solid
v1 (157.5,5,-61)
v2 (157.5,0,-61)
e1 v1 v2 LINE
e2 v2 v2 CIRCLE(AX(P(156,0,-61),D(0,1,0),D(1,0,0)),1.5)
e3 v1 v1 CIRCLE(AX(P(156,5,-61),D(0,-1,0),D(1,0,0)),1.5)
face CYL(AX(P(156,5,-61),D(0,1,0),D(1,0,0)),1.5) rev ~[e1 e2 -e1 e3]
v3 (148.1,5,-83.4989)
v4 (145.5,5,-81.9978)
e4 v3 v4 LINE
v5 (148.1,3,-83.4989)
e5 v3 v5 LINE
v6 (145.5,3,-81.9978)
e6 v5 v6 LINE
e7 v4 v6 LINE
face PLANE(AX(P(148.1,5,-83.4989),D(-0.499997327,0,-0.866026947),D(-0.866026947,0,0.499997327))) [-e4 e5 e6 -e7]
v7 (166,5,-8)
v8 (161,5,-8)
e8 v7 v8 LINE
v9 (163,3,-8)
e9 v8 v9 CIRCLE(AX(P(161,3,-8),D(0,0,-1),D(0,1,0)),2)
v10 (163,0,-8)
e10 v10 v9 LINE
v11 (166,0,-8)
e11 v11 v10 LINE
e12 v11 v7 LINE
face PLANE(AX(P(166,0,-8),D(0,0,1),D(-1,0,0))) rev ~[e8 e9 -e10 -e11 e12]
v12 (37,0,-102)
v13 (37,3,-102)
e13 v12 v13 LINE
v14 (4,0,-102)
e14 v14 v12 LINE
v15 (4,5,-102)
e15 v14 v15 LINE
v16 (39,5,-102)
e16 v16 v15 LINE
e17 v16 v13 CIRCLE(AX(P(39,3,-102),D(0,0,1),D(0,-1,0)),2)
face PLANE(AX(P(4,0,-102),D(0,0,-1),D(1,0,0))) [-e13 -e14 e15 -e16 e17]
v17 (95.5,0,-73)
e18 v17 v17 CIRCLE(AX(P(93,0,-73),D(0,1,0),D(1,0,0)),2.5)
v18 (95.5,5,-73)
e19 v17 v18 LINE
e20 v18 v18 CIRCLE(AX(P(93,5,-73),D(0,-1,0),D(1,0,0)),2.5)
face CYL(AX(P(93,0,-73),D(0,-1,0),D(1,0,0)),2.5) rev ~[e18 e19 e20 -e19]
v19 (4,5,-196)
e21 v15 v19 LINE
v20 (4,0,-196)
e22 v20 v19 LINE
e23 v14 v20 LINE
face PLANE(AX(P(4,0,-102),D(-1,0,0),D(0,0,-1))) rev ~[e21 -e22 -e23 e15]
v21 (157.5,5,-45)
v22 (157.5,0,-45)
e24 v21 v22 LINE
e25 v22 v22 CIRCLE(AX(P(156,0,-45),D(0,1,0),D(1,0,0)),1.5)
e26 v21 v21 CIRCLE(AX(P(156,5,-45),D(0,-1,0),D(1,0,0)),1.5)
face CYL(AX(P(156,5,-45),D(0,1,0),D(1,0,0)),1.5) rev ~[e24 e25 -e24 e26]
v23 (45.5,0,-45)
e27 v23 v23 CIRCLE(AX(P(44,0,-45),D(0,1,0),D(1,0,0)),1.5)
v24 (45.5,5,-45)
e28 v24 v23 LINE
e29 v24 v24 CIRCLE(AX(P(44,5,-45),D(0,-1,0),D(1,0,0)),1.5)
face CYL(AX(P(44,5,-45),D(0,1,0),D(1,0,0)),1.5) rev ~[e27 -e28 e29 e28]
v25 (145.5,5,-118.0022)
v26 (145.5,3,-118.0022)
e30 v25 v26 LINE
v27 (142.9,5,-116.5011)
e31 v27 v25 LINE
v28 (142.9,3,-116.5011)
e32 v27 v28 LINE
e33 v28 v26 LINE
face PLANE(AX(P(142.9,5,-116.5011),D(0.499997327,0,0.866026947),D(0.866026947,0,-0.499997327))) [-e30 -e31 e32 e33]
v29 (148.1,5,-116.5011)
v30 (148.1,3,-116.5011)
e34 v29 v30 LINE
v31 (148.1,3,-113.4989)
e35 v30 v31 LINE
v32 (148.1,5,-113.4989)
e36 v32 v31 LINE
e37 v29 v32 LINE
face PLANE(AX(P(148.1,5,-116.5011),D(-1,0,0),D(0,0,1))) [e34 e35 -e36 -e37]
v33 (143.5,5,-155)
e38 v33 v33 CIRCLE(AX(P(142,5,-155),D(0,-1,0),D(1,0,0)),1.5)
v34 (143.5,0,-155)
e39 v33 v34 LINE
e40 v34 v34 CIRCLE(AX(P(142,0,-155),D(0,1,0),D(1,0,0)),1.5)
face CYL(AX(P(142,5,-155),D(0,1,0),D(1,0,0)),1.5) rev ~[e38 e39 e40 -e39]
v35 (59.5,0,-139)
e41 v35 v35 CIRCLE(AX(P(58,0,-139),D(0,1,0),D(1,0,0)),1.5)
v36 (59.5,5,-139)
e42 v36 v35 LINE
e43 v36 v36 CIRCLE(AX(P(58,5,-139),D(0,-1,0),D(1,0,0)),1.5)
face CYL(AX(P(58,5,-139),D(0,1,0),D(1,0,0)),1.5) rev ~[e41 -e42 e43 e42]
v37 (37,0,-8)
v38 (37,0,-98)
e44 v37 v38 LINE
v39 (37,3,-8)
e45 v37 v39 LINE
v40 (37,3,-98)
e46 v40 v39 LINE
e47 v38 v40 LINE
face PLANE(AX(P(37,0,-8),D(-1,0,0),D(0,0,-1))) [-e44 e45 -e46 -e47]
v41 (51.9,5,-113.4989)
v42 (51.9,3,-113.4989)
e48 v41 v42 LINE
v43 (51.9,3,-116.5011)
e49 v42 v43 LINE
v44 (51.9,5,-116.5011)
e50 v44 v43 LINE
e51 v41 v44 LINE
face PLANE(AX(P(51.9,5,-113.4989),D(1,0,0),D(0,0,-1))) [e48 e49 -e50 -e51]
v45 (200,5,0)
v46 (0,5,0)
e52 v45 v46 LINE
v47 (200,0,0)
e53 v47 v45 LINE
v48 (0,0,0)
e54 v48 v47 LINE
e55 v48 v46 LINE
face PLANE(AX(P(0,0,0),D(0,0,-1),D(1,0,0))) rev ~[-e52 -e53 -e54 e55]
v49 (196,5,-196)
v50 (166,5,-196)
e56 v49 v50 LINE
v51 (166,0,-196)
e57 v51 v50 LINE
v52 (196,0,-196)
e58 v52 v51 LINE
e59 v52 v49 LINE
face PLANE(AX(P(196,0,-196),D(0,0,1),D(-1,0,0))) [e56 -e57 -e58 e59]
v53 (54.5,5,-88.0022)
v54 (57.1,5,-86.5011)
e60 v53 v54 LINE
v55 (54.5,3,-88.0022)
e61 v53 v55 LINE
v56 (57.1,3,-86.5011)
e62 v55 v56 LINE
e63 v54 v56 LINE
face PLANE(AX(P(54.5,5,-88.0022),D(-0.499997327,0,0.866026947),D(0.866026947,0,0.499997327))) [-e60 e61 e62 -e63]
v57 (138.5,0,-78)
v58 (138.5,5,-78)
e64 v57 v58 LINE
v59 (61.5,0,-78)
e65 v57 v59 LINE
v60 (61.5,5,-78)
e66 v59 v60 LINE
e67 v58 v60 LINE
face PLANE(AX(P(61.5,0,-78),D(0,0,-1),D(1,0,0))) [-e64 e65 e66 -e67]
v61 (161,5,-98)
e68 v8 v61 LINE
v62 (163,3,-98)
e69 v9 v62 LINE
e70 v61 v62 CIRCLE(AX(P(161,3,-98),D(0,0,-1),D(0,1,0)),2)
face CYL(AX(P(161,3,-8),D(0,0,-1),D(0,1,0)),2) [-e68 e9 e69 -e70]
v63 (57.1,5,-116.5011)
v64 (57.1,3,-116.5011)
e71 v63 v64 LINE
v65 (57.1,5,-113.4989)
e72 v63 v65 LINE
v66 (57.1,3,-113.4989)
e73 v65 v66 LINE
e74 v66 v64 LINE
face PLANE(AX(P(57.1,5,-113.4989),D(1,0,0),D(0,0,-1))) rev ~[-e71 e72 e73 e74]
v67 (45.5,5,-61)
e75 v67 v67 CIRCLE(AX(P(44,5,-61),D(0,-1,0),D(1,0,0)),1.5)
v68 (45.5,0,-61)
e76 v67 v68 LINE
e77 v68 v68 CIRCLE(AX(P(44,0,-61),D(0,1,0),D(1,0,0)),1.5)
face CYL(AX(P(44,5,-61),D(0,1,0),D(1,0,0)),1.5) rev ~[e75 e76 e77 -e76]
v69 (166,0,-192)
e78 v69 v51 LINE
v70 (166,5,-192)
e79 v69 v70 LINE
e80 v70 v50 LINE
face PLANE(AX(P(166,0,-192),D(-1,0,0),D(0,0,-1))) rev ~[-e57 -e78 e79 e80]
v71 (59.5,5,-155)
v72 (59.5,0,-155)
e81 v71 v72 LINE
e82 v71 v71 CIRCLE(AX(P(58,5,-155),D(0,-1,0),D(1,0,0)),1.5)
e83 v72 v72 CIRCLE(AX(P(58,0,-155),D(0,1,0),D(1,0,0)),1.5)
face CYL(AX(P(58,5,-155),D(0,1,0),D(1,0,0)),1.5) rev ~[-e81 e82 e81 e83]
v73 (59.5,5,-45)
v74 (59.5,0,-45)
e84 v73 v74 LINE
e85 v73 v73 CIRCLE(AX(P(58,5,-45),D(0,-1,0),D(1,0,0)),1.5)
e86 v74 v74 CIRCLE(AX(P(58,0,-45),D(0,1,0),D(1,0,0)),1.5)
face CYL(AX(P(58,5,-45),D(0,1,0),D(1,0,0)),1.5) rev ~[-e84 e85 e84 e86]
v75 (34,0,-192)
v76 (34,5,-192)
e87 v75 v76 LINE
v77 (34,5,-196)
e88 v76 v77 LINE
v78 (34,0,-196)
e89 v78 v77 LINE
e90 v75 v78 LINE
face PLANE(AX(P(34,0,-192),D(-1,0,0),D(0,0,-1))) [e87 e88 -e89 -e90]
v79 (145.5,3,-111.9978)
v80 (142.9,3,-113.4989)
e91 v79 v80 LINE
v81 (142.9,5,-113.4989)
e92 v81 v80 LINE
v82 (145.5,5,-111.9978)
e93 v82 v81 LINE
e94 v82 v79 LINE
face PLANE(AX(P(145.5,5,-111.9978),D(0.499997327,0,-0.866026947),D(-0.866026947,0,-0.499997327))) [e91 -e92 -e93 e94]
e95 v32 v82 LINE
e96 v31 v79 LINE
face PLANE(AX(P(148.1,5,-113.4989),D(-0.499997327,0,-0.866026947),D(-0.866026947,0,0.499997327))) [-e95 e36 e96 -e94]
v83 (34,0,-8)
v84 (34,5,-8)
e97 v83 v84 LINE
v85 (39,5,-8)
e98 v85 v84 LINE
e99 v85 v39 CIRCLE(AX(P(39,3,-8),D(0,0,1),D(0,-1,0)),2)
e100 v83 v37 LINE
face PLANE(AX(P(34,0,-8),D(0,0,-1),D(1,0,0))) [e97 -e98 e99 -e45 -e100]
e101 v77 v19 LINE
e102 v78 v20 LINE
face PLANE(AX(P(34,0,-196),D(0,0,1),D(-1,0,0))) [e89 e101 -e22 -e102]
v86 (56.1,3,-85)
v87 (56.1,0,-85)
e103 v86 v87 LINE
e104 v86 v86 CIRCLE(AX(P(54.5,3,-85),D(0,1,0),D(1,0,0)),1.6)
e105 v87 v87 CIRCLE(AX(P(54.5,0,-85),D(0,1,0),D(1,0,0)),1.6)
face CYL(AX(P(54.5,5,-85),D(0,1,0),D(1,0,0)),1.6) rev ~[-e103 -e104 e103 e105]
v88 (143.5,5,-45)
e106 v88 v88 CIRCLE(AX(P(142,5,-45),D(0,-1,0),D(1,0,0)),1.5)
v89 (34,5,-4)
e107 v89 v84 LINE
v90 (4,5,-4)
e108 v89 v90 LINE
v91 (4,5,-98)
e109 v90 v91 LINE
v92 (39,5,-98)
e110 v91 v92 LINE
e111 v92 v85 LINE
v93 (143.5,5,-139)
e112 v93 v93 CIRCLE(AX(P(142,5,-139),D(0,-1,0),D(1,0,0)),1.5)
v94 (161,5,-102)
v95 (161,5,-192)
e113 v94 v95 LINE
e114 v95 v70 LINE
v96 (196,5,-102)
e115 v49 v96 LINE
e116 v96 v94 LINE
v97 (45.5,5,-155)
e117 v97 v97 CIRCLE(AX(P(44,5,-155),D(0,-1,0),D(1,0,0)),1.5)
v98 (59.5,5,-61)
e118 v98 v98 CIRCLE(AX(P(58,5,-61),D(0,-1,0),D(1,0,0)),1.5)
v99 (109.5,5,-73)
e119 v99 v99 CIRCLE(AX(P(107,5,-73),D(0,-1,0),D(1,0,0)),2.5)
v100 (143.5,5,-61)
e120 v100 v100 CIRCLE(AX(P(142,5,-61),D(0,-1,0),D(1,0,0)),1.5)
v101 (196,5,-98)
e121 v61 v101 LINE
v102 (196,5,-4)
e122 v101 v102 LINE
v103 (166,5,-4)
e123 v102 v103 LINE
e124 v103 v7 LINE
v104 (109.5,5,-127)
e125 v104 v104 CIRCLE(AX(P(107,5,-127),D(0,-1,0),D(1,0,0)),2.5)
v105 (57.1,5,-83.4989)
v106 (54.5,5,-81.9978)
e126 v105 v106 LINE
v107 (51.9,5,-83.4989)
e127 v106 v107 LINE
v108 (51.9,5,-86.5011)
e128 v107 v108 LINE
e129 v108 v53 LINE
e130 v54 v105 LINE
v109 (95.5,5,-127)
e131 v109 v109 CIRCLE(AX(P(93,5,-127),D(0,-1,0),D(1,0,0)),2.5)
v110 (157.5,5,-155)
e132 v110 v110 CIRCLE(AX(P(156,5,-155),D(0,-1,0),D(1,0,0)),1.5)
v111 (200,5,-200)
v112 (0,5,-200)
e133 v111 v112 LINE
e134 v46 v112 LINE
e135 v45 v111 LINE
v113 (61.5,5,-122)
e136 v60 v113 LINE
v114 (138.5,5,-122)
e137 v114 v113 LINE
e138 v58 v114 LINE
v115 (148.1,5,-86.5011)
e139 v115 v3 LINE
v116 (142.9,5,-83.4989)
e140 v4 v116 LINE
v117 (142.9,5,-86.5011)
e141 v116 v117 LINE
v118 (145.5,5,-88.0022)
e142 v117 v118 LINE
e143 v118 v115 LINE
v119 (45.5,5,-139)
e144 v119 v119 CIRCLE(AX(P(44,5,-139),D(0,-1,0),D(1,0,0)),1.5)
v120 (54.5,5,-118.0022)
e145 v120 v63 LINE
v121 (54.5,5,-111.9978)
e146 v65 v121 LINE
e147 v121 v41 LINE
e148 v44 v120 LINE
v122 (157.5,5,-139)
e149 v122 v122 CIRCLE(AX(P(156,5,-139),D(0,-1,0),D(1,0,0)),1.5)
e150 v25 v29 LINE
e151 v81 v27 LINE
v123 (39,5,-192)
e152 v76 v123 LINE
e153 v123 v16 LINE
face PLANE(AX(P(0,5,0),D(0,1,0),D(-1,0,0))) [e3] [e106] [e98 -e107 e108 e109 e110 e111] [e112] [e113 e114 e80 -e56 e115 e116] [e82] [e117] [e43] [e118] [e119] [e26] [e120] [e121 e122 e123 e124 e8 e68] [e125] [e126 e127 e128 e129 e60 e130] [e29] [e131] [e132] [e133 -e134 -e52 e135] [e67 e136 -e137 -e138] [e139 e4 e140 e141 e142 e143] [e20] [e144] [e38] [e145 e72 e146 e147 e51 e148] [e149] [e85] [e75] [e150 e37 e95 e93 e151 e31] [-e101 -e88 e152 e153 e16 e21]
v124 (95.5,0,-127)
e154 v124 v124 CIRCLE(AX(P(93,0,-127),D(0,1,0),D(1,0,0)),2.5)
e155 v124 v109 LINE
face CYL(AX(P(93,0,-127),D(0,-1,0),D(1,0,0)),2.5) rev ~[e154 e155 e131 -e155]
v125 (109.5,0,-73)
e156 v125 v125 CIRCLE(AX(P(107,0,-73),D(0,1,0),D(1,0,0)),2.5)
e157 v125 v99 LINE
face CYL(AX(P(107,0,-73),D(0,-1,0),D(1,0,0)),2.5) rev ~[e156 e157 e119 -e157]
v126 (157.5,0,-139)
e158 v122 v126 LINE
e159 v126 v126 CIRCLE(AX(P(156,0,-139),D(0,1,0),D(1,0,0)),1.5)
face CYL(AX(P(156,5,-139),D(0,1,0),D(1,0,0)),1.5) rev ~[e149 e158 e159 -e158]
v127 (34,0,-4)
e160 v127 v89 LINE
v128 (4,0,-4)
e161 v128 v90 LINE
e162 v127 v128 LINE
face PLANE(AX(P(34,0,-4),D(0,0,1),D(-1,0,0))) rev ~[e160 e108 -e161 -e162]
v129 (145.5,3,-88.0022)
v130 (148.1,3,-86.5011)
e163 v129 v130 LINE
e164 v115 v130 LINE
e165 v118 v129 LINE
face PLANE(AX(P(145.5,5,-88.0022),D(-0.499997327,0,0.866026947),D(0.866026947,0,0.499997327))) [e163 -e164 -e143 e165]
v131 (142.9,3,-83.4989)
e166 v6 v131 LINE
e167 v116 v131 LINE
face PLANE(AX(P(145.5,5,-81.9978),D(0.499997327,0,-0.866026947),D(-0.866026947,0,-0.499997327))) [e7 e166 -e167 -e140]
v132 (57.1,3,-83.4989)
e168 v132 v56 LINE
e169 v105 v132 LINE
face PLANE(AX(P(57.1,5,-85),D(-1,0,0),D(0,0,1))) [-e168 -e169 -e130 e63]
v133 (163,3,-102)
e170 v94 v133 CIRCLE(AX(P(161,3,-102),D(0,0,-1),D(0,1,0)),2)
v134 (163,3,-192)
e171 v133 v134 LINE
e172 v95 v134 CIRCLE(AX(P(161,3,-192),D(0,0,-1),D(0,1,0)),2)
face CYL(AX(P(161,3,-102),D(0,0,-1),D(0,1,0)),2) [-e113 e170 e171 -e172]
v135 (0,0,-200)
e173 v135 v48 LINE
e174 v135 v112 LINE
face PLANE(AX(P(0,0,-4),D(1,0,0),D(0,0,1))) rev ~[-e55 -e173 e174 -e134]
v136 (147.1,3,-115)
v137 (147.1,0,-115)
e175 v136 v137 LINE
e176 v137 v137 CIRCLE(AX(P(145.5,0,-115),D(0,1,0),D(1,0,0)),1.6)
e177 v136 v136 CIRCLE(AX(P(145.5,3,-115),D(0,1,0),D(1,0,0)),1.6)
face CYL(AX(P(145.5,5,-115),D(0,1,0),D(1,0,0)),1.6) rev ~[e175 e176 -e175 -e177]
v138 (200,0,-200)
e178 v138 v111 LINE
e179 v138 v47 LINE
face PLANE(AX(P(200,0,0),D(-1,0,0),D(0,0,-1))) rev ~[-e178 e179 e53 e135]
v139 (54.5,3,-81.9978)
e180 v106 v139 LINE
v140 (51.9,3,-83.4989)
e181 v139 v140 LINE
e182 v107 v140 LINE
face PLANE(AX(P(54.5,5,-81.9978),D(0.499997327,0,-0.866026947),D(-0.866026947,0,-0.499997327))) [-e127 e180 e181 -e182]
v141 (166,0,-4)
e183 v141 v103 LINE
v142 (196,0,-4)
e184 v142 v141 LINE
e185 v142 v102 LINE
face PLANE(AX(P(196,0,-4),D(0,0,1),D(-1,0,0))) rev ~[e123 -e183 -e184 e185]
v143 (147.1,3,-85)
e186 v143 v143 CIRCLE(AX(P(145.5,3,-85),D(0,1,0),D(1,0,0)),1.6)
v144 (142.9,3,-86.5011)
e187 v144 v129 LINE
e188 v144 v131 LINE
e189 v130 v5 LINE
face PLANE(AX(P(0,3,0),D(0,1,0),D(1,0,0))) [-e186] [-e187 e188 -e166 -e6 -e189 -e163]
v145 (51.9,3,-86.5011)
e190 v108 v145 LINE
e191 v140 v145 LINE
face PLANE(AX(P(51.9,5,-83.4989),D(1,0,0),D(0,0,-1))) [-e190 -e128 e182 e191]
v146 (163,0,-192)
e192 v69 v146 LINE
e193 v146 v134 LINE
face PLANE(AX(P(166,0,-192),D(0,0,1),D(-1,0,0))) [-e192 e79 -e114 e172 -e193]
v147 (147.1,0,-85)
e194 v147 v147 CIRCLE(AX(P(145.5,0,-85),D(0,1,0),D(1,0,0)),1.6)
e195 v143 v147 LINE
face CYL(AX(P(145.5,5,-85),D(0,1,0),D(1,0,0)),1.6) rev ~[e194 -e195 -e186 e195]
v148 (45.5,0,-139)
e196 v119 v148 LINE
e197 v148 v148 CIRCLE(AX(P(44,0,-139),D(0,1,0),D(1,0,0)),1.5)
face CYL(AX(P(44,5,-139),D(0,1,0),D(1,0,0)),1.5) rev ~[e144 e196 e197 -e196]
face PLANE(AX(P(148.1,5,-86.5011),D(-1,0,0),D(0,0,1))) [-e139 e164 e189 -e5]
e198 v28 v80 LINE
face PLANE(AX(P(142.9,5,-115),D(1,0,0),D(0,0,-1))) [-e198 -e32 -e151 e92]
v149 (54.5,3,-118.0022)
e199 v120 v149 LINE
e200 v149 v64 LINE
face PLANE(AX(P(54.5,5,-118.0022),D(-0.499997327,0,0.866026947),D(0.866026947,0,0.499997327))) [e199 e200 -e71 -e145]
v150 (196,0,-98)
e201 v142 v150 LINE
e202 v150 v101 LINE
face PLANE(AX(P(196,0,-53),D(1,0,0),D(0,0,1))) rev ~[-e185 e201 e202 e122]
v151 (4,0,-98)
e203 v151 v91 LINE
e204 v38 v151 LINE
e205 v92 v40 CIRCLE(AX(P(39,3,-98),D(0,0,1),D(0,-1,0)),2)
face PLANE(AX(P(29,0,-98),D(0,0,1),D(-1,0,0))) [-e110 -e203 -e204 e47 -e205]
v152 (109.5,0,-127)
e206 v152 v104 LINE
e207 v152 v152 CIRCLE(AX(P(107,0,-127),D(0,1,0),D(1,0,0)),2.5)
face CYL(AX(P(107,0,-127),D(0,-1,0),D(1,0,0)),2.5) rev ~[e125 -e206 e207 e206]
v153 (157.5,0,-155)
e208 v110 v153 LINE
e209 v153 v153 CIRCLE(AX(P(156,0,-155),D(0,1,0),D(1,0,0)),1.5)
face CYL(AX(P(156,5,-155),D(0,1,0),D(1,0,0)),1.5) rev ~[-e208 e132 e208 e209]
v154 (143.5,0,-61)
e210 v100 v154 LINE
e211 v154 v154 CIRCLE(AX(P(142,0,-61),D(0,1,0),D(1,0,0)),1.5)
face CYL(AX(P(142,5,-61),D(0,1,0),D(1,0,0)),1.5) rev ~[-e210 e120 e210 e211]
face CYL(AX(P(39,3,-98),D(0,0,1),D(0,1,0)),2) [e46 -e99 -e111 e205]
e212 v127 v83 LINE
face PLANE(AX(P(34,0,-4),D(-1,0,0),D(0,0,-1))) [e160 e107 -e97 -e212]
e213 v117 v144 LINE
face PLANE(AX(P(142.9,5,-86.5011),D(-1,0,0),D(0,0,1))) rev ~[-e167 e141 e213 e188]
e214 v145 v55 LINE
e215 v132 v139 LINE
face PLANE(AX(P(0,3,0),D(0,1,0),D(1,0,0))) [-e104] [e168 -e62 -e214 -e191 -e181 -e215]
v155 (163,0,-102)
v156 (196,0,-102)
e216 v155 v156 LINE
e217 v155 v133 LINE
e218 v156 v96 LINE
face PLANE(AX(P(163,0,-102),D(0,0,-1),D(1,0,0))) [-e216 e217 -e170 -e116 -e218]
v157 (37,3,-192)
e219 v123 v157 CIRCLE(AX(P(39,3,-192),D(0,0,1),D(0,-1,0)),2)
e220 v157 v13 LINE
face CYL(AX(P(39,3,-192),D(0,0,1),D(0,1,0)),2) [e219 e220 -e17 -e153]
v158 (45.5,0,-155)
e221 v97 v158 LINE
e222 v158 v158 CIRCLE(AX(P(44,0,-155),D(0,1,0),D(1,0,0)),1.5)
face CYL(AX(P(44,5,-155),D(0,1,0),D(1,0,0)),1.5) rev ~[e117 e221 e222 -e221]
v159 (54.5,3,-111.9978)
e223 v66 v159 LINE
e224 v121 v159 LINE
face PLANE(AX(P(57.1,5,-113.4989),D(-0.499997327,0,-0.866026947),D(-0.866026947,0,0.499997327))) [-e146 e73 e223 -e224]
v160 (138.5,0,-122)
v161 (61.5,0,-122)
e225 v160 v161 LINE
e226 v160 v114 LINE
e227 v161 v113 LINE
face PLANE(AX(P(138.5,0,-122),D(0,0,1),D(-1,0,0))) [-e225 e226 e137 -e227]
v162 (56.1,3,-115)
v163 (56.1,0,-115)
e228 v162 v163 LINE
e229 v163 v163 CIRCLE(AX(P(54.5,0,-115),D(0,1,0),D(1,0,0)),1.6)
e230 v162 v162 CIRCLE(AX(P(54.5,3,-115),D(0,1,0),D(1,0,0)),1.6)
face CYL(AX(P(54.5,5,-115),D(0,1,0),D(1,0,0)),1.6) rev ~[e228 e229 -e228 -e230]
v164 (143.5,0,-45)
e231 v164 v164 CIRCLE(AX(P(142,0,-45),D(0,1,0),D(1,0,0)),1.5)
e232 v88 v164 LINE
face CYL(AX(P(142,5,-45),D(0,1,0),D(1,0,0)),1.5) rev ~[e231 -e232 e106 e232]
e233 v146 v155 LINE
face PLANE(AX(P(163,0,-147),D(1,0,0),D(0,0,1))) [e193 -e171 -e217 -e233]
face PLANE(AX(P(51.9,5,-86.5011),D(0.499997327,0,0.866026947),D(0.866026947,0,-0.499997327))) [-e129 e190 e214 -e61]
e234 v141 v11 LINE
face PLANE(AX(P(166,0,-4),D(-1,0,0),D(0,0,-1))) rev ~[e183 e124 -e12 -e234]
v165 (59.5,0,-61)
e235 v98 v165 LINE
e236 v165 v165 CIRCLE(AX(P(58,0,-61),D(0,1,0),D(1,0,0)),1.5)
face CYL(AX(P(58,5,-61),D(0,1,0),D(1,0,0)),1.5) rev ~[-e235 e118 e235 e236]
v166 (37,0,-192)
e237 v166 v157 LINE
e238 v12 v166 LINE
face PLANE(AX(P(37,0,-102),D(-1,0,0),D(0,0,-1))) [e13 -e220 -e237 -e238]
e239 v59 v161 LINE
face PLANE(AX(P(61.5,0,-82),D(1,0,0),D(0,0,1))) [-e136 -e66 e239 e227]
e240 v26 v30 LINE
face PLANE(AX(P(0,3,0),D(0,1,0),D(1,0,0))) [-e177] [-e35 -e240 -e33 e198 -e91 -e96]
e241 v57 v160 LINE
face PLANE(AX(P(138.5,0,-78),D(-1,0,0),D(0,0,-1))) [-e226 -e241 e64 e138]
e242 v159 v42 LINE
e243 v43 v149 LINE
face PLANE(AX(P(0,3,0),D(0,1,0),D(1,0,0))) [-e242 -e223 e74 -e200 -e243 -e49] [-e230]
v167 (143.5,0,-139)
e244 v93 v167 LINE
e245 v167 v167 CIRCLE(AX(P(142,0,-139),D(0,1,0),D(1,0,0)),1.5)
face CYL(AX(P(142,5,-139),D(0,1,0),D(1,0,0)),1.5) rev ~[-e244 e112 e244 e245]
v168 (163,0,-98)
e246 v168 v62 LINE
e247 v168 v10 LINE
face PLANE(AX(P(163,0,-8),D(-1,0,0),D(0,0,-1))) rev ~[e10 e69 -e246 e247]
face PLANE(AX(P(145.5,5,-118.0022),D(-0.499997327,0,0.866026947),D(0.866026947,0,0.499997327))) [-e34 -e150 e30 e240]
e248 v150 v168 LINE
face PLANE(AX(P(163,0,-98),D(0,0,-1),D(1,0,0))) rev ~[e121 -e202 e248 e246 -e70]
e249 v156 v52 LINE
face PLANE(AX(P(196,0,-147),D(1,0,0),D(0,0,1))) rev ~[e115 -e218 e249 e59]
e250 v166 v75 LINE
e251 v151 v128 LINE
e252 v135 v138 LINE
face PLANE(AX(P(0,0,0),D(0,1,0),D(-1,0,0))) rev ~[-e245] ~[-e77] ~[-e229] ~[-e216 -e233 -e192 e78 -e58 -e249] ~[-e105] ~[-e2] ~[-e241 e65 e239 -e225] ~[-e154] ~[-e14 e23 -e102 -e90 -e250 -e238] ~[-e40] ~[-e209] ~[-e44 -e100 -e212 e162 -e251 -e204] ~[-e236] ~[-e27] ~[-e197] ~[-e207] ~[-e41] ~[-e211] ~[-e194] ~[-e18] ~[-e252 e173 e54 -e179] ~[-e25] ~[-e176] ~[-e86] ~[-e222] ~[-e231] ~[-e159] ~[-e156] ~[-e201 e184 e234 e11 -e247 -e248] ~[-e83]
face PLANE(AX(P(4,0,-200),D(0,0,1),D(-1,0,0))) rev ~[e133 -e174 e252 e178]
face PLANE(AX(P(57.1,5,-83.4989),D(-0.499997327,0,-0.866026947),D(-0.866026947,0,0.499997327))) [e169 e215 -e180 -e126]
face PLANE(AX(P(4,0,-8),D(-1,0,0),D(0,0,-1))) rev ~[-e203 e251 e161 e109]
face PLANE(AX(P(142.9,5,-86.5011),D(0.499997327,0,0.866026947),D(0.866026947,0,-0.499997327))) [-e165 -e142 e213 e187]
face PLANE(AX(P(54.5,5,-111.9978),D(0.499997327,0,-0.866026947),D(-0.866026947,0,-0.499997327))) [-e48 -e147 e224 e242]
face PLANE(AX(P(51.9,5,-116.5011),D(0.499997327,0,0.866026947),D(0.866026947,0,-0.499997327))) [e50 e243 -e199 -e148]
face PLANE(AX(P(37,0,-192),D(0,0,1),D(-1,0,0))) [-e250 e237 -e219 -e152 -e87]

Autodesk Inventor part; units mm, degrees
ref_plane "YZ Plane" through (0, 0, 0) normal (1, 0, 0) x (0, 1, 0)
ref_plane "XZ Plane" through (0, 0, 0) normal (0, 1, 0) x (-1, 0, 0)
ref_plane "XY Plane" through (0, 0, 0) normal (0, 0, 1) x (1, 0, 0)
sketch "Эскиз2" plane through (0, 0, 0) normal (0, 1, 0) x (-1, 0, 0)
  line L0 (0, 0) -> (-200, 0)
  line L1 (-200, 0) -> (-200, -200)
  line L2 (-200, -200) -> (0, -200)
  line L3 (0, -200) -> (0, 0)
  line L4 (-200, 0) -> (-166, 0)
  line L5 (-166, 0) -> (-166, -200)
  line L6 (-166, -200) -> (-200, -200)
  line L7 (-200, -200) -> (-200, 0)
  line L8 (0, 0) -> (-34, 0)
  line L9 (-34, 0) -> (-34, -200)
  line L10 (-34, -200) -> (0, -200)
  line L11 (0, -200) -> (0, 0)
  line L12 (0, 0) -> (-200, 0)
  line L13 (-200, 0) -> (-200, -4)
  line L14 (-200, -4) -> (0, -4)
  line L15 (0, -4) -> (0, 0)
  line L16 (0, -200) -> (-200, -200)
  line L17 (-200, -200) -> (-200, -196)
  line L18 (-200, -196) -> (0, -196)
  line L19 (0, -196) -> (0, -200)
  line L20 (-200, -200) -> (-196, -200)
  line L21 (-196, -200) -> (-196, 0)
  line L22 (-196, 0) -> (-200, 0)
  line L23 (-200, 0) -> (-200, -200)
  line L24 (0, 0) -> (-4, 0)
  line L25 (-4, 0) -> (-4, -200)
  line L26 (-4, -200) -> (0, -200)
  line L27 (0, -200) -> (0, 0)
  line L28 (-34, -4) -> (-4, -4)
  line L29 (-4, -4) -> (-4, -8)
  line L30 (-34, -8) -> (-34, -4)
  line L31 (-9, -53) -> (-196, -53)
  line L32 (-9, -147) -> (-196, -147)
  line L33 (-29, -8) -> (-37, -8)
  line L34 (-37, -8) -> (-37, -98)
  line L35 (-37, -98) -> (-29, -98)
  line L36 (-29, -102) -> (-37, -102)
  line L37 (-37, -102) -> (-37, -192)
  line L38 (-37, -192) -> (-29, -192)
  line L39 (-166, -192) -> (-163, -192)
  line L40 (-163, -192) -> (-163, -102)
  line L41 (-163, -102) -> (-166, -102)
  line L42 (-166, -102) -> (-166, -192)
  line L43 (-166, -8) -> (-163, -8)
  line L44 (-163, -8) -> (-163, -98)
  line L45 (-163, -98) -> (-166, -98)
  line L46 (-166, -98) -> (-166, -8)
  line L47 (-166, -98) -> (-196, -98)
  line L48 (-196, -98) -> (-196, -102)
  line L49 (-196, -102) -> (-166, -102)
  line L50 (-166, -102) -> (-166, -98)
  line L51 (-29, -98) -> (-4, -98)
  line L52 (-4, -98) -> (-4, -102)
  line L53 (-4, -102) -> (-29, -102)
  line L54 (-29, -102) -> (-29, -98)
  point P0 (-166, -4)
  point P1 (-166, -196)
  point P2 (-196, -196)
  point P3 (-196, -4)
  point P4 (-4, -196)
  point P5 (-34, -196)
  point P6 (-34, -192)
  point P7 (-34, -102)
  point P8 (-34, -98)
  point P9 (-4, -98)
  dimension "d11" = 200
  dimension "d12" = 200
  dimension "d13" = 34
  dimension "d14" = 34
  dimension "d15" = 4
  dimension "d16" = 4
  dimension "d17" = 4
  dimension "d18" = 4
  dimension "d19" = 4
  dimension "d25" = 8
  dimension "d26" = 8
  dimension "d27" = 3
extrude "Выдавливание1" add sketch "Эскиз2" along normal blind 5 contours L3 L14 L25 L0 | L25 L14 L9 L0 | L3 L18 L25 L14 | L9 L14 L5 L0 | L3 L2 L25 L18 | L5 L14 L21 L0 | L9 L33 L34 L31 L44 L43 L5 L14 | L25 L2 L9 L18 | L21 L14 L1 L0 | L25 L53 L54 L51 | L18 L5 L39 L40 L32 L37 L38 L9 | L9 L2 L5 L18 | L21 L18 L1 L14 | L54 L36 L9 L35 | L5 L2 L21 L18 | L9 L36 L37 L32 L40 L41 L5 L45 L44 L31 L34 L35 | L21 L2 L1 L18 | L47 L5 L49 L21
sketch "Эскиз3" plane through (0, 5, 0) normal (0, 1, 0) x (1, 0, 0)
  line L0 (37, 192) -> (37, 102) projected
  line L1 (37, 147) -> (163, 147)
  line L2 (163, 102) -> (163, 192) projected
  line L3 (37, 98) -> (37, 8) projected
  line L4 (37, 53) -> (163, 53)
  line L5 (163, 147) -> (156, 147)
  line L6 (156, 147) -> (142, 147)
  line L7 (142, 147) -> (142, 155)
  line L8 (142, 155) -> (156, 155)
  line L9 (156, 155) -> (156, 139)
  line L10 (156, 139) -> (142, 139)
  line L11 (142, 139) -> (142, 155)
  line L12 (37, 147) -> (44, 147)
  line L13 (44, 147) -> (58, 147)
  line L14 (58, 147) -> (58, 155)
  line L15 (58, 155) -> (44, 155)
  line L16 (44, 155) -> (44, 139)
  line L17 (44, 139) -> (58, 139)
  line L18 (58, 139) -> (58, 155)
  line L19 (163, 53) -> (156, 53)
  line L20 (156, 53) -> (142, 53)
  line L21 (142, 53) -> (142, 61)
  line L22 (142, 61) -> (58, 61)
  line L23 (58, 61) -> (44, 61)
  line L24 (44, 61) -> (44, 45)
  line L25 (44, 45) -> (58, 45)
  line L26 (58, 45) -> (58, 61)
  line L27 (142, 61) -> (156, 61)
  line L28 (156, 61) -> (156, 45)
  line L29 (156, 45) -> (142, 45)
  line L30 (142, 45) -> (142, 61)
  circle A0 centre (156, 61) radius 1.5
  circle A1 centre (156, 45) radius 1.5
  circle A2 centre (142, 45) radius 1.5
  circle A3 centre (142, 61) radius 1.5
  circle A4 centre (58, 61) radius 1.5
  circle A5 centre (58, 45) radius 1.5
  circle A6 centre (44, 61) radius 1.5
  circle A7 centre (44, 45) radius 1.5
  circle A8 centre (142, 139) radius 1.5
  circle A9 centre (156, 139) radius 1.5
  circle A10 centre (156, 155) radius 1.5
  circle A11 centre (142, 155) radius 1.5
  circle A12 centre (58, 155) radius 1.5
  circle A13 centre (44, 155) radius 1.5
  circle A14 centre (58, 139) radius 1.5
  circle A15 centre (44, 139) radius 1.5
  point P0 (0, 0)
  point P1 (142, 46.5)
  point P2 (143.5, 45)
  dimension "d30" = 7
  dimension "d31" = 14
  dimension "d32" = 8
  dimension "d33" = 16
  dimension "d34" = 7
  dimension "d35" = 14
  dimension "d36" = 8
  dimension "d37" = 16
  dimension "d38" = 7
  dimension "d39" = 14
  dimension "d40" = 8
  dimension "d41" = 16
  dimension "d42" = 16
  dimension "d43" = 3
  dimension "d44" = 3
  dimension "d45" = 3
  dimension "d46" = 3
  dimension "d47" = 3
  dimension "d48" = 3
  dimension "d49" = 3
  dimension "d50" = 3
  dimension "d51" = 3
  dimension "d52" = 3
  dimension "d53" = 3
  dimension "d54" = 3
  dimension "d55" = 3
  dimension "d56" = 3
  dimension "d57" = 3
  dimension "d58" = 3
extrude "Выдавливание2" cut sketch "Эскиз3" against normal blind 5 contours A13 L15 L16 | L16 L15 A13 | A15 L17 L16 | L16 L17 A15 | A12 L15 L14 | L14 L15 A12 | A14 L17 L18 | L18 L17 A14 | A11 L8 L7 | L7 L8 A11 | A8 L10 L11 | L11 L10 A8 | A10 L8 L9 | L9 L8 A10 | A9 L10 L9 | L9 L10 A9 | A3 L22 L21 | L21 L27 A3 | A2 L29 L30 | L30 L29 A2 | A0 L27 L28 | L28 L27 A0 | A1 L29 L28 | L28 L29 A1 | A5 L25 L26 | L26 L25 A5 | A4 L23 L26 | L26 L22 A4 | L22 A3 L27 | A6 L23 L24 | L24 L23 A6 | A7 L25 L24 | L24 L25 A7 | L23 A4 L22
fillet "Сопряжение1" radius 2 4 edges at (163, 5, -53) (163, 5, -147) (37, 5, -147) (37, 5, -53)
sketch "Эскиз4" plane through (0, 0, 0) normal (0, -1, 0) x (1, 0, 0)
  circle A0 centre (156, -45) radius 1.5 projected
  circle A1 centre (142, -61) radius 1.5 projected
  line L0 (156, -45) -> (142, -45)
  line L1 (142, -45) -> (142, -61)
  line L2 (142, -61) -> (156, -61)
  line L3 (156, -61) -> (156, -45)
  circle A2 centre (156, -139) radius 1.5 projected
  circle A3 centre (142, -155) radius 1.5 projected
  line L4 (156, -139) -> (142, -139)
  line L5 (142, -139) -> (142, -155)
  line L6 (142, -155) -> (156, -155)
  line L7 (156, -155) -> (156, -139)
  circle A4 centre (58, -139) radius 1.5 projected
  circle A5 centre (44, -155) radius 1.5 projected
  line L8 (58, -139) -> (44, -139)
  line L9 (44, -139) -> (44, -155)
  line L10 (44, -155) -> (58, -155)
  line L11 (58, -155) -> (58, -139)
  circle A6 centre (58, -45) radius 1.5 projected
  circle A7 centre (44, -61) radius 1.5 projected
  line L12 (58, -45) -> (44, -45)
  line L13 (44, -45) -> (44, -61)
  line L14 (44, -61) -> (58, -61)
  line L15 (58, -61) -> (58, -45)
  line L16 (37, -98) -> (37, -8) projected
  line L17 (37, -53) -> (37, -66)
  line L18 (163, -8) -> (163, -98) projected
  line L19 (163, -102) -> (163, -192) projected
  line L20 (163, -147) -> (163, -134)
  line L21 (37, -134) -> (37, -160)
  line L22 (37, -192) -> (37, -102) projected
  line L23 (163, -66) -> (163, -40)
  line L24 (37, -40) -> (67, -40)
  line L25 (67, -40) -> (67, -66)
  line L26 (67, -66) -> (37, -66)
  line L27 (37, -66) -> (37, -40)
  line L28 (163, -66) -> (133, -66)
  line L29 (133, -66) -> (133, -40)
  line L30 (133, -40) -> (163, -40)
  line L31 (163, -40) -> (163, -66)
  line L32 (163, -134) -> (133, -134)
  line L33 (133, -134) -> (133, -160)
  line L34 (133, -160) -> (163, -160)
  line L35 (163, -160) -> (163, -134)
  line L36 (37, -134) -> (67, -134)
  line L37 (67, -134) -> (67, -160)
  line L38 (67, -160) -> (37, -160)
  line L39 (37, -160) -> (37, -134)
  line L40 (37, -160) -> (34, -160)
  line L41 (34, -160) -> (34, -134)
  line L42 (34, -134) -> (37, -134)
  line L43 (37, -134) -> (37, -160)
  line L44 (37, -66) -> (34, -66)
  line L45 (34, -66) -> (34, -40)
  line L46 (34, -40) -> (37, -40)
  line L47 (37, -40) -> (37, -66)
  line L48 (163, -40) -> (166, -40)
  line L49 (166, -40) -> (166, -66)
  line L50 (166, -66) -> (163, -66)
  line L51 (163, -66) -> (163, -40)
  line L52 (163, -134) -> (166, -134)
  line L53 (166, -134) -> (166, -160)
  line L54 (166, -160) -> (163, -160)
  line L55 (163, -160) -> (163, -134)
  line L56 (163, -66) -> (109.2, -66)
  line L57 (109.2, -66) -> (109.2, -40)
  line L58 (109.2, -40) -> (163, -40)
  line L59 (163, -40) -> (163, -66)
  line L60 (37, -40) -> (90.8, -40)
  line L61 (90.8, -40) -> (90.8, -66)
  line L62 (90.8, -66) -> (37, -66)
  line L63 (37, -66) -> (37, -40)
  line L64 (163, -134) -> (109.2, -134)
  line L65 (109.2, -134) -> (109.2, -160)
  line L66 (109.2, -160) -> (163, -160)
  line L67 (163, -160) -> (163, -134)
  line L68 (37, -160) -> (90.8, -160)
  line L69 (90.8, -160) -> (90.8, -134)
  line L70 (90.8, -134) -> (37, -134)
  line L71 (37, -134) -> (37, -160)
  line L72 (109.2, -40) -> (101.2, -40)
  line L73 (101.2, -40) -> (101.2, -66)
  line L74 (101.2, -66) -> (109.2, -66)
  line L75 (109.2, -66) -> (109.2, -40)
  line L76 (90.8, -40) -> (98.8, -40)
  line L77 (98.8, -40) -> (98.8, -66)
  line L78 (98.8, -66) -> (90.8, -66)
  line L79 (90.8, -66) -> (90.8, -40)
  line L80 (109.2, -134) -> (101.2, -134)
  line L81 (101.2, -134) -> (101.2, -160)
  line L82 (101.2, -160) -> (109.2, -160)
  line L83 (109.2, -160) -> (109.2, -134)
  line L84 (90.8, -134) -> (98.8, -134)
  line L85 (98.8, -134) -> (98.8, -160)
  line L86 (98.8, -160) -> (90.8, -160)
  line L87 (90.8, -160) -> (90.8, -134)
  line L88 (166, -147) -> (185, -147)
  line L89 (34, -147) -> (15, -147)
  line L90 (34, -53) -> (15, -53)
  line L91 (166, -53) -> (185, -53)
  point P0 (0, 0)
  dimension "d62" = 13
  dimension "d63" = 13
  dimension "d64" = 26
  dimension "d65" = 26
  dimension "d66" = 30
  dimension "d67" = 30
  dimension "d68" = 30
  dimension "d69" = 3
  dimension "d70" = 3
  dimension "d71" = 53.8
  dimension "d72" = 53.8
  dimension "d73" = 53.8
  dimension "d74" = 53.8
  dimension "d75" = 8
  dimension "d76" = 8
  dimension "d77" = 8
  dimension "d78" = 8
  dimension "d93" = 19
  dimension "d94" = 19
  dimension "d95" = 68
sketch "Эскиз5" plane through (0, 0, 0) normal (0, -1, 0) x (1, 0, 0)
  line L0 (163, -8) -> (163, -98) projected
  line L1 (163, -53) -> (107, -53)
  line L2 (107, -53) -> (107, -147)
  line L3 (107, -147) -> (163, -147)
  line L4 (163, -147) -> (163, -53)
  line L5 (37, -98) -> (37, -8) projected
  line L6 (37, -53) -> (93, -53)
  line L7 (93, -53) -> (93, -147)
  line L8 (93, -147) -> (37, -147)
  line L9 (37, -147) -> (37, -53)
  line L10 (107, -147) -> (93, -147)
  line L11 (93, -147) -> (93, -127)
  line L12 (93, -127) -> (107, -127)
  line L13 (107, -127) -> (107, -147)
  line L14 (107, -53) -> (93, -53)
  line L15 (93, -53) -> (93, -73)
  line L16 (93, -73) -> (107, -73)
  line L17 (107, -73) -> (107, -53)
  circle A0 centre (93, -127) radius 2.5
  circle A1 centre (107, -127) radius 2.5
  circle A2 centre (107, -73) radius 2.5
  circle A3 centre (93, -73) radius 2.5
  point P0 (0, 0)
  dimension "d79" = 56
  dimension "d80" = 56
  dimension "d81" = 20
  dimension "d82" = 20
  dimension "d89" = 5
  dimension "d90" = 5
  dimension "d91" = 5
  dimension "d92" = 5
extrude "Выдавливание3" cut sketch "Эскиз5" against normal blind 5 contours A2 L2 | L2 L16 A2 | L2 A2 L16 | A3 L16 L7 | L7 A3 | A1 L12 L2 | L2 A1 | A3 L7 L16 | L12 A1 L2 | A0 L7 | L7 L12 A0 | A0 L12 L7
sketch "Эскиз6" plane through (0, 0, 0) normal (0, -1, 0) x (1, 0, 0)
  circle A0 centre (107, -73) radius 2.5 projected
  circle A1 centre (93, -127) radius 2.5 projected
  line L0 (107, -100) -> (93, -100)
  line L1 (100, -100) -> (67.5, -100)
  line L2 (67.5, -100) -> (132.5, -100)
  line L3 (132.5, -100) -> (132.5, -82)
  line L4 (132.5, -82) -> (67.5, -82)
  line L5 (67.5, -82) -> (67.5, -100)
  line L6 (132.5, -100) -> (67.5, -100)
  line L7 (67.5, -100) -> (67.5, -118)
  line L8 (67.5, -118) -> (132.5, -118)
  line L9 (132.5, -118) -> (132.5, -100)
  line L10 (61.5, -82) -> (61.5, -78)
  line L11 (61.5, -78) -> (67.5, -78)
  line L12 (61.5, -78) -> (138.5, -78)
  line L13 (138.5, -78) -> (138.5, -122)
  line L14 (138.5, -122) -> (61.5, -122)
  line L15 (61.5, -122) -> (61.5, -78)
  point P0 (0, 0)
  dimension "d97" = 65
  dimension "d100" = 6
  dimension "d101" = 4
  dimension "d102" = 77
  dimension "d103" = 44
extrude "Выдавливание5" cut sketch "Эскиз6" against normal blind 5 contours L2 L9 L8 L7 L1 L0 | L0 L1 L5 L4 L3 L2 | L10 L11 L12 L13 L14 L15
sketch "Эскиз7" plane through (0, 5, 0) normal (0, 1, 0) x (1, 0, 0)
  line L0 (138.5, 78) -> (138.5, 122) projected
  line L1 (145.5, 85) -> (54.5, 85)
  line L2 (54.5, 85) -> (54.5, 115)
  line L3 (54.5, 115) -> (145.5, 115)
  line L4 (145.5, 115) -> (145.5, 85)
  line L5 (145.5, 85) -> (142.9, 85)
  line L6 (54.5, 115) -> (57.1, 115)
  line L7 (57.1, 115) -> (142.9, 115)
  line L8 (142.9, 115) -> (142.9, 85)
  line L9 (142.9, 85) -> (57.1, 85)
  line L10 (57.1, 85) -> (57.1, 115)
  line L11 (142.9, 86.5011) -> (145.5, 88.0022)
  line L12 (145.5, 88.0022) -> (148.1, 86.5011)
  line L13 (148.1, 86.5011) -> (148.1, 83.4989)
  line L14 (148.1, 83.4989) -> (145.5, 81.9978)
  line L15 (145.5, 81.9978) -> (142.9, 83.4989)
  line L16 (142.9, 83.4989) -> (142.9, 86.5011)
  line L17 (142.9, 116.5011) -> (145.5, 118.0022)
  line L18 (145.5, 118.0022) -> (148.1, 116.5011)
  line L19 (148.1, 116.5011) -> (148.1, 113.4989)
  line L20 (148.1, 113.4989) -> (145.5, 111.9978)
  line L21 (145.5, 111.9978) -> (142.9, 113.4989)
  line L22 (142.9, 113.4989) -> (142.9, 116.5011)
  line L23 (57.1, 113.4989) -> (54.5, 111.9978)
  line L24 (54.5, 111.9978) -> (51.9, 113.4989)
  line L25 (51.9, 113.4989) -> (51.9, 116.5011)
  line L26 (51.9, 116.5011) -> (54.5, 118.0022)
  line L27 (54.5, 118.0022) -> (57.1, 116.5011)
  line L28 (57.1, 116.5011) -> (57.1, 113.4989)
  line L29 (57.1, 83.4989) -> (54.5, 81.9978)
  line L30 (54.5, 81.9978) -> (51.9, 83.4989)
  line L31 (51.9, 83.4989) -> (51.9, 86.5011)
  line L32 (51.9, 86.5011) -> (54.5, 88.0022)
  line L33 (54.5, 88.0022) -> (57.1, 86.5011)
  line L34 (57.1, 86.5011) -> (57.1, 83.4989)
  circle A0 centre (145.5, 115) radius 1.6
  circle A1 centre (145.5, 85) radius 1.6
  circle A2 centre (54.5, 115) radius 1.6
  circle A3 centre (54.5, 85) radius 1.6
  point P0 (0, 0)
  dimension "d116" = 91
  dimension "d117" = 30
  dimension "d118" = 2.6
  dimension "d119" = 2.6
  dimension "d120" = 3.2
  dimension "d121" = 3.2
  dimension "d122" = 3.2
  dimension "d123" = 3.2
extrude "Выдавливание6" cut sketch "Эскиз7" against normal blind 2 contours L8 L11 L4 A1 L1 | L1 A1 L4 L12 L13 L14 L15 L16 | L34 L29 L30 L31 L32 L2 A3 L1 | L1 A3 L2 L33 L10 | L10 L23 L2 A2 L3 | L3 A2 L2 L24 L25 L26 L27 L28 | L22 L17 L18 L19 L20 L4 A0 L3 | L3 A0 L4 L21 L8
sketch "Эскиз8" plane through (54.5, 5, -115) normal (0, 1, 0) x (1, 0, 0)
  circle A0 centre (91, 0) radius 1.6 projected
  circle A1 centre (91, 0) radius 1.6
  circle A2 centre (91, -30) radius 1.6 projected
  circle A3 centre (91, -30) radius 1.6
  circle A4 centre (0, -30) radius 1.6 projected
  circle A5 centre (0, -30) radius 1.6
  circle A6 centre (0, 0) radius 1.6 projected
  circle A7 centre (0, 0) radius 1.6
  point P0 (-54.5, -115)
extrude "Выдавливание7" cut sketch "Эскиз8" against normal blind 5
properties part number "maze_01"
